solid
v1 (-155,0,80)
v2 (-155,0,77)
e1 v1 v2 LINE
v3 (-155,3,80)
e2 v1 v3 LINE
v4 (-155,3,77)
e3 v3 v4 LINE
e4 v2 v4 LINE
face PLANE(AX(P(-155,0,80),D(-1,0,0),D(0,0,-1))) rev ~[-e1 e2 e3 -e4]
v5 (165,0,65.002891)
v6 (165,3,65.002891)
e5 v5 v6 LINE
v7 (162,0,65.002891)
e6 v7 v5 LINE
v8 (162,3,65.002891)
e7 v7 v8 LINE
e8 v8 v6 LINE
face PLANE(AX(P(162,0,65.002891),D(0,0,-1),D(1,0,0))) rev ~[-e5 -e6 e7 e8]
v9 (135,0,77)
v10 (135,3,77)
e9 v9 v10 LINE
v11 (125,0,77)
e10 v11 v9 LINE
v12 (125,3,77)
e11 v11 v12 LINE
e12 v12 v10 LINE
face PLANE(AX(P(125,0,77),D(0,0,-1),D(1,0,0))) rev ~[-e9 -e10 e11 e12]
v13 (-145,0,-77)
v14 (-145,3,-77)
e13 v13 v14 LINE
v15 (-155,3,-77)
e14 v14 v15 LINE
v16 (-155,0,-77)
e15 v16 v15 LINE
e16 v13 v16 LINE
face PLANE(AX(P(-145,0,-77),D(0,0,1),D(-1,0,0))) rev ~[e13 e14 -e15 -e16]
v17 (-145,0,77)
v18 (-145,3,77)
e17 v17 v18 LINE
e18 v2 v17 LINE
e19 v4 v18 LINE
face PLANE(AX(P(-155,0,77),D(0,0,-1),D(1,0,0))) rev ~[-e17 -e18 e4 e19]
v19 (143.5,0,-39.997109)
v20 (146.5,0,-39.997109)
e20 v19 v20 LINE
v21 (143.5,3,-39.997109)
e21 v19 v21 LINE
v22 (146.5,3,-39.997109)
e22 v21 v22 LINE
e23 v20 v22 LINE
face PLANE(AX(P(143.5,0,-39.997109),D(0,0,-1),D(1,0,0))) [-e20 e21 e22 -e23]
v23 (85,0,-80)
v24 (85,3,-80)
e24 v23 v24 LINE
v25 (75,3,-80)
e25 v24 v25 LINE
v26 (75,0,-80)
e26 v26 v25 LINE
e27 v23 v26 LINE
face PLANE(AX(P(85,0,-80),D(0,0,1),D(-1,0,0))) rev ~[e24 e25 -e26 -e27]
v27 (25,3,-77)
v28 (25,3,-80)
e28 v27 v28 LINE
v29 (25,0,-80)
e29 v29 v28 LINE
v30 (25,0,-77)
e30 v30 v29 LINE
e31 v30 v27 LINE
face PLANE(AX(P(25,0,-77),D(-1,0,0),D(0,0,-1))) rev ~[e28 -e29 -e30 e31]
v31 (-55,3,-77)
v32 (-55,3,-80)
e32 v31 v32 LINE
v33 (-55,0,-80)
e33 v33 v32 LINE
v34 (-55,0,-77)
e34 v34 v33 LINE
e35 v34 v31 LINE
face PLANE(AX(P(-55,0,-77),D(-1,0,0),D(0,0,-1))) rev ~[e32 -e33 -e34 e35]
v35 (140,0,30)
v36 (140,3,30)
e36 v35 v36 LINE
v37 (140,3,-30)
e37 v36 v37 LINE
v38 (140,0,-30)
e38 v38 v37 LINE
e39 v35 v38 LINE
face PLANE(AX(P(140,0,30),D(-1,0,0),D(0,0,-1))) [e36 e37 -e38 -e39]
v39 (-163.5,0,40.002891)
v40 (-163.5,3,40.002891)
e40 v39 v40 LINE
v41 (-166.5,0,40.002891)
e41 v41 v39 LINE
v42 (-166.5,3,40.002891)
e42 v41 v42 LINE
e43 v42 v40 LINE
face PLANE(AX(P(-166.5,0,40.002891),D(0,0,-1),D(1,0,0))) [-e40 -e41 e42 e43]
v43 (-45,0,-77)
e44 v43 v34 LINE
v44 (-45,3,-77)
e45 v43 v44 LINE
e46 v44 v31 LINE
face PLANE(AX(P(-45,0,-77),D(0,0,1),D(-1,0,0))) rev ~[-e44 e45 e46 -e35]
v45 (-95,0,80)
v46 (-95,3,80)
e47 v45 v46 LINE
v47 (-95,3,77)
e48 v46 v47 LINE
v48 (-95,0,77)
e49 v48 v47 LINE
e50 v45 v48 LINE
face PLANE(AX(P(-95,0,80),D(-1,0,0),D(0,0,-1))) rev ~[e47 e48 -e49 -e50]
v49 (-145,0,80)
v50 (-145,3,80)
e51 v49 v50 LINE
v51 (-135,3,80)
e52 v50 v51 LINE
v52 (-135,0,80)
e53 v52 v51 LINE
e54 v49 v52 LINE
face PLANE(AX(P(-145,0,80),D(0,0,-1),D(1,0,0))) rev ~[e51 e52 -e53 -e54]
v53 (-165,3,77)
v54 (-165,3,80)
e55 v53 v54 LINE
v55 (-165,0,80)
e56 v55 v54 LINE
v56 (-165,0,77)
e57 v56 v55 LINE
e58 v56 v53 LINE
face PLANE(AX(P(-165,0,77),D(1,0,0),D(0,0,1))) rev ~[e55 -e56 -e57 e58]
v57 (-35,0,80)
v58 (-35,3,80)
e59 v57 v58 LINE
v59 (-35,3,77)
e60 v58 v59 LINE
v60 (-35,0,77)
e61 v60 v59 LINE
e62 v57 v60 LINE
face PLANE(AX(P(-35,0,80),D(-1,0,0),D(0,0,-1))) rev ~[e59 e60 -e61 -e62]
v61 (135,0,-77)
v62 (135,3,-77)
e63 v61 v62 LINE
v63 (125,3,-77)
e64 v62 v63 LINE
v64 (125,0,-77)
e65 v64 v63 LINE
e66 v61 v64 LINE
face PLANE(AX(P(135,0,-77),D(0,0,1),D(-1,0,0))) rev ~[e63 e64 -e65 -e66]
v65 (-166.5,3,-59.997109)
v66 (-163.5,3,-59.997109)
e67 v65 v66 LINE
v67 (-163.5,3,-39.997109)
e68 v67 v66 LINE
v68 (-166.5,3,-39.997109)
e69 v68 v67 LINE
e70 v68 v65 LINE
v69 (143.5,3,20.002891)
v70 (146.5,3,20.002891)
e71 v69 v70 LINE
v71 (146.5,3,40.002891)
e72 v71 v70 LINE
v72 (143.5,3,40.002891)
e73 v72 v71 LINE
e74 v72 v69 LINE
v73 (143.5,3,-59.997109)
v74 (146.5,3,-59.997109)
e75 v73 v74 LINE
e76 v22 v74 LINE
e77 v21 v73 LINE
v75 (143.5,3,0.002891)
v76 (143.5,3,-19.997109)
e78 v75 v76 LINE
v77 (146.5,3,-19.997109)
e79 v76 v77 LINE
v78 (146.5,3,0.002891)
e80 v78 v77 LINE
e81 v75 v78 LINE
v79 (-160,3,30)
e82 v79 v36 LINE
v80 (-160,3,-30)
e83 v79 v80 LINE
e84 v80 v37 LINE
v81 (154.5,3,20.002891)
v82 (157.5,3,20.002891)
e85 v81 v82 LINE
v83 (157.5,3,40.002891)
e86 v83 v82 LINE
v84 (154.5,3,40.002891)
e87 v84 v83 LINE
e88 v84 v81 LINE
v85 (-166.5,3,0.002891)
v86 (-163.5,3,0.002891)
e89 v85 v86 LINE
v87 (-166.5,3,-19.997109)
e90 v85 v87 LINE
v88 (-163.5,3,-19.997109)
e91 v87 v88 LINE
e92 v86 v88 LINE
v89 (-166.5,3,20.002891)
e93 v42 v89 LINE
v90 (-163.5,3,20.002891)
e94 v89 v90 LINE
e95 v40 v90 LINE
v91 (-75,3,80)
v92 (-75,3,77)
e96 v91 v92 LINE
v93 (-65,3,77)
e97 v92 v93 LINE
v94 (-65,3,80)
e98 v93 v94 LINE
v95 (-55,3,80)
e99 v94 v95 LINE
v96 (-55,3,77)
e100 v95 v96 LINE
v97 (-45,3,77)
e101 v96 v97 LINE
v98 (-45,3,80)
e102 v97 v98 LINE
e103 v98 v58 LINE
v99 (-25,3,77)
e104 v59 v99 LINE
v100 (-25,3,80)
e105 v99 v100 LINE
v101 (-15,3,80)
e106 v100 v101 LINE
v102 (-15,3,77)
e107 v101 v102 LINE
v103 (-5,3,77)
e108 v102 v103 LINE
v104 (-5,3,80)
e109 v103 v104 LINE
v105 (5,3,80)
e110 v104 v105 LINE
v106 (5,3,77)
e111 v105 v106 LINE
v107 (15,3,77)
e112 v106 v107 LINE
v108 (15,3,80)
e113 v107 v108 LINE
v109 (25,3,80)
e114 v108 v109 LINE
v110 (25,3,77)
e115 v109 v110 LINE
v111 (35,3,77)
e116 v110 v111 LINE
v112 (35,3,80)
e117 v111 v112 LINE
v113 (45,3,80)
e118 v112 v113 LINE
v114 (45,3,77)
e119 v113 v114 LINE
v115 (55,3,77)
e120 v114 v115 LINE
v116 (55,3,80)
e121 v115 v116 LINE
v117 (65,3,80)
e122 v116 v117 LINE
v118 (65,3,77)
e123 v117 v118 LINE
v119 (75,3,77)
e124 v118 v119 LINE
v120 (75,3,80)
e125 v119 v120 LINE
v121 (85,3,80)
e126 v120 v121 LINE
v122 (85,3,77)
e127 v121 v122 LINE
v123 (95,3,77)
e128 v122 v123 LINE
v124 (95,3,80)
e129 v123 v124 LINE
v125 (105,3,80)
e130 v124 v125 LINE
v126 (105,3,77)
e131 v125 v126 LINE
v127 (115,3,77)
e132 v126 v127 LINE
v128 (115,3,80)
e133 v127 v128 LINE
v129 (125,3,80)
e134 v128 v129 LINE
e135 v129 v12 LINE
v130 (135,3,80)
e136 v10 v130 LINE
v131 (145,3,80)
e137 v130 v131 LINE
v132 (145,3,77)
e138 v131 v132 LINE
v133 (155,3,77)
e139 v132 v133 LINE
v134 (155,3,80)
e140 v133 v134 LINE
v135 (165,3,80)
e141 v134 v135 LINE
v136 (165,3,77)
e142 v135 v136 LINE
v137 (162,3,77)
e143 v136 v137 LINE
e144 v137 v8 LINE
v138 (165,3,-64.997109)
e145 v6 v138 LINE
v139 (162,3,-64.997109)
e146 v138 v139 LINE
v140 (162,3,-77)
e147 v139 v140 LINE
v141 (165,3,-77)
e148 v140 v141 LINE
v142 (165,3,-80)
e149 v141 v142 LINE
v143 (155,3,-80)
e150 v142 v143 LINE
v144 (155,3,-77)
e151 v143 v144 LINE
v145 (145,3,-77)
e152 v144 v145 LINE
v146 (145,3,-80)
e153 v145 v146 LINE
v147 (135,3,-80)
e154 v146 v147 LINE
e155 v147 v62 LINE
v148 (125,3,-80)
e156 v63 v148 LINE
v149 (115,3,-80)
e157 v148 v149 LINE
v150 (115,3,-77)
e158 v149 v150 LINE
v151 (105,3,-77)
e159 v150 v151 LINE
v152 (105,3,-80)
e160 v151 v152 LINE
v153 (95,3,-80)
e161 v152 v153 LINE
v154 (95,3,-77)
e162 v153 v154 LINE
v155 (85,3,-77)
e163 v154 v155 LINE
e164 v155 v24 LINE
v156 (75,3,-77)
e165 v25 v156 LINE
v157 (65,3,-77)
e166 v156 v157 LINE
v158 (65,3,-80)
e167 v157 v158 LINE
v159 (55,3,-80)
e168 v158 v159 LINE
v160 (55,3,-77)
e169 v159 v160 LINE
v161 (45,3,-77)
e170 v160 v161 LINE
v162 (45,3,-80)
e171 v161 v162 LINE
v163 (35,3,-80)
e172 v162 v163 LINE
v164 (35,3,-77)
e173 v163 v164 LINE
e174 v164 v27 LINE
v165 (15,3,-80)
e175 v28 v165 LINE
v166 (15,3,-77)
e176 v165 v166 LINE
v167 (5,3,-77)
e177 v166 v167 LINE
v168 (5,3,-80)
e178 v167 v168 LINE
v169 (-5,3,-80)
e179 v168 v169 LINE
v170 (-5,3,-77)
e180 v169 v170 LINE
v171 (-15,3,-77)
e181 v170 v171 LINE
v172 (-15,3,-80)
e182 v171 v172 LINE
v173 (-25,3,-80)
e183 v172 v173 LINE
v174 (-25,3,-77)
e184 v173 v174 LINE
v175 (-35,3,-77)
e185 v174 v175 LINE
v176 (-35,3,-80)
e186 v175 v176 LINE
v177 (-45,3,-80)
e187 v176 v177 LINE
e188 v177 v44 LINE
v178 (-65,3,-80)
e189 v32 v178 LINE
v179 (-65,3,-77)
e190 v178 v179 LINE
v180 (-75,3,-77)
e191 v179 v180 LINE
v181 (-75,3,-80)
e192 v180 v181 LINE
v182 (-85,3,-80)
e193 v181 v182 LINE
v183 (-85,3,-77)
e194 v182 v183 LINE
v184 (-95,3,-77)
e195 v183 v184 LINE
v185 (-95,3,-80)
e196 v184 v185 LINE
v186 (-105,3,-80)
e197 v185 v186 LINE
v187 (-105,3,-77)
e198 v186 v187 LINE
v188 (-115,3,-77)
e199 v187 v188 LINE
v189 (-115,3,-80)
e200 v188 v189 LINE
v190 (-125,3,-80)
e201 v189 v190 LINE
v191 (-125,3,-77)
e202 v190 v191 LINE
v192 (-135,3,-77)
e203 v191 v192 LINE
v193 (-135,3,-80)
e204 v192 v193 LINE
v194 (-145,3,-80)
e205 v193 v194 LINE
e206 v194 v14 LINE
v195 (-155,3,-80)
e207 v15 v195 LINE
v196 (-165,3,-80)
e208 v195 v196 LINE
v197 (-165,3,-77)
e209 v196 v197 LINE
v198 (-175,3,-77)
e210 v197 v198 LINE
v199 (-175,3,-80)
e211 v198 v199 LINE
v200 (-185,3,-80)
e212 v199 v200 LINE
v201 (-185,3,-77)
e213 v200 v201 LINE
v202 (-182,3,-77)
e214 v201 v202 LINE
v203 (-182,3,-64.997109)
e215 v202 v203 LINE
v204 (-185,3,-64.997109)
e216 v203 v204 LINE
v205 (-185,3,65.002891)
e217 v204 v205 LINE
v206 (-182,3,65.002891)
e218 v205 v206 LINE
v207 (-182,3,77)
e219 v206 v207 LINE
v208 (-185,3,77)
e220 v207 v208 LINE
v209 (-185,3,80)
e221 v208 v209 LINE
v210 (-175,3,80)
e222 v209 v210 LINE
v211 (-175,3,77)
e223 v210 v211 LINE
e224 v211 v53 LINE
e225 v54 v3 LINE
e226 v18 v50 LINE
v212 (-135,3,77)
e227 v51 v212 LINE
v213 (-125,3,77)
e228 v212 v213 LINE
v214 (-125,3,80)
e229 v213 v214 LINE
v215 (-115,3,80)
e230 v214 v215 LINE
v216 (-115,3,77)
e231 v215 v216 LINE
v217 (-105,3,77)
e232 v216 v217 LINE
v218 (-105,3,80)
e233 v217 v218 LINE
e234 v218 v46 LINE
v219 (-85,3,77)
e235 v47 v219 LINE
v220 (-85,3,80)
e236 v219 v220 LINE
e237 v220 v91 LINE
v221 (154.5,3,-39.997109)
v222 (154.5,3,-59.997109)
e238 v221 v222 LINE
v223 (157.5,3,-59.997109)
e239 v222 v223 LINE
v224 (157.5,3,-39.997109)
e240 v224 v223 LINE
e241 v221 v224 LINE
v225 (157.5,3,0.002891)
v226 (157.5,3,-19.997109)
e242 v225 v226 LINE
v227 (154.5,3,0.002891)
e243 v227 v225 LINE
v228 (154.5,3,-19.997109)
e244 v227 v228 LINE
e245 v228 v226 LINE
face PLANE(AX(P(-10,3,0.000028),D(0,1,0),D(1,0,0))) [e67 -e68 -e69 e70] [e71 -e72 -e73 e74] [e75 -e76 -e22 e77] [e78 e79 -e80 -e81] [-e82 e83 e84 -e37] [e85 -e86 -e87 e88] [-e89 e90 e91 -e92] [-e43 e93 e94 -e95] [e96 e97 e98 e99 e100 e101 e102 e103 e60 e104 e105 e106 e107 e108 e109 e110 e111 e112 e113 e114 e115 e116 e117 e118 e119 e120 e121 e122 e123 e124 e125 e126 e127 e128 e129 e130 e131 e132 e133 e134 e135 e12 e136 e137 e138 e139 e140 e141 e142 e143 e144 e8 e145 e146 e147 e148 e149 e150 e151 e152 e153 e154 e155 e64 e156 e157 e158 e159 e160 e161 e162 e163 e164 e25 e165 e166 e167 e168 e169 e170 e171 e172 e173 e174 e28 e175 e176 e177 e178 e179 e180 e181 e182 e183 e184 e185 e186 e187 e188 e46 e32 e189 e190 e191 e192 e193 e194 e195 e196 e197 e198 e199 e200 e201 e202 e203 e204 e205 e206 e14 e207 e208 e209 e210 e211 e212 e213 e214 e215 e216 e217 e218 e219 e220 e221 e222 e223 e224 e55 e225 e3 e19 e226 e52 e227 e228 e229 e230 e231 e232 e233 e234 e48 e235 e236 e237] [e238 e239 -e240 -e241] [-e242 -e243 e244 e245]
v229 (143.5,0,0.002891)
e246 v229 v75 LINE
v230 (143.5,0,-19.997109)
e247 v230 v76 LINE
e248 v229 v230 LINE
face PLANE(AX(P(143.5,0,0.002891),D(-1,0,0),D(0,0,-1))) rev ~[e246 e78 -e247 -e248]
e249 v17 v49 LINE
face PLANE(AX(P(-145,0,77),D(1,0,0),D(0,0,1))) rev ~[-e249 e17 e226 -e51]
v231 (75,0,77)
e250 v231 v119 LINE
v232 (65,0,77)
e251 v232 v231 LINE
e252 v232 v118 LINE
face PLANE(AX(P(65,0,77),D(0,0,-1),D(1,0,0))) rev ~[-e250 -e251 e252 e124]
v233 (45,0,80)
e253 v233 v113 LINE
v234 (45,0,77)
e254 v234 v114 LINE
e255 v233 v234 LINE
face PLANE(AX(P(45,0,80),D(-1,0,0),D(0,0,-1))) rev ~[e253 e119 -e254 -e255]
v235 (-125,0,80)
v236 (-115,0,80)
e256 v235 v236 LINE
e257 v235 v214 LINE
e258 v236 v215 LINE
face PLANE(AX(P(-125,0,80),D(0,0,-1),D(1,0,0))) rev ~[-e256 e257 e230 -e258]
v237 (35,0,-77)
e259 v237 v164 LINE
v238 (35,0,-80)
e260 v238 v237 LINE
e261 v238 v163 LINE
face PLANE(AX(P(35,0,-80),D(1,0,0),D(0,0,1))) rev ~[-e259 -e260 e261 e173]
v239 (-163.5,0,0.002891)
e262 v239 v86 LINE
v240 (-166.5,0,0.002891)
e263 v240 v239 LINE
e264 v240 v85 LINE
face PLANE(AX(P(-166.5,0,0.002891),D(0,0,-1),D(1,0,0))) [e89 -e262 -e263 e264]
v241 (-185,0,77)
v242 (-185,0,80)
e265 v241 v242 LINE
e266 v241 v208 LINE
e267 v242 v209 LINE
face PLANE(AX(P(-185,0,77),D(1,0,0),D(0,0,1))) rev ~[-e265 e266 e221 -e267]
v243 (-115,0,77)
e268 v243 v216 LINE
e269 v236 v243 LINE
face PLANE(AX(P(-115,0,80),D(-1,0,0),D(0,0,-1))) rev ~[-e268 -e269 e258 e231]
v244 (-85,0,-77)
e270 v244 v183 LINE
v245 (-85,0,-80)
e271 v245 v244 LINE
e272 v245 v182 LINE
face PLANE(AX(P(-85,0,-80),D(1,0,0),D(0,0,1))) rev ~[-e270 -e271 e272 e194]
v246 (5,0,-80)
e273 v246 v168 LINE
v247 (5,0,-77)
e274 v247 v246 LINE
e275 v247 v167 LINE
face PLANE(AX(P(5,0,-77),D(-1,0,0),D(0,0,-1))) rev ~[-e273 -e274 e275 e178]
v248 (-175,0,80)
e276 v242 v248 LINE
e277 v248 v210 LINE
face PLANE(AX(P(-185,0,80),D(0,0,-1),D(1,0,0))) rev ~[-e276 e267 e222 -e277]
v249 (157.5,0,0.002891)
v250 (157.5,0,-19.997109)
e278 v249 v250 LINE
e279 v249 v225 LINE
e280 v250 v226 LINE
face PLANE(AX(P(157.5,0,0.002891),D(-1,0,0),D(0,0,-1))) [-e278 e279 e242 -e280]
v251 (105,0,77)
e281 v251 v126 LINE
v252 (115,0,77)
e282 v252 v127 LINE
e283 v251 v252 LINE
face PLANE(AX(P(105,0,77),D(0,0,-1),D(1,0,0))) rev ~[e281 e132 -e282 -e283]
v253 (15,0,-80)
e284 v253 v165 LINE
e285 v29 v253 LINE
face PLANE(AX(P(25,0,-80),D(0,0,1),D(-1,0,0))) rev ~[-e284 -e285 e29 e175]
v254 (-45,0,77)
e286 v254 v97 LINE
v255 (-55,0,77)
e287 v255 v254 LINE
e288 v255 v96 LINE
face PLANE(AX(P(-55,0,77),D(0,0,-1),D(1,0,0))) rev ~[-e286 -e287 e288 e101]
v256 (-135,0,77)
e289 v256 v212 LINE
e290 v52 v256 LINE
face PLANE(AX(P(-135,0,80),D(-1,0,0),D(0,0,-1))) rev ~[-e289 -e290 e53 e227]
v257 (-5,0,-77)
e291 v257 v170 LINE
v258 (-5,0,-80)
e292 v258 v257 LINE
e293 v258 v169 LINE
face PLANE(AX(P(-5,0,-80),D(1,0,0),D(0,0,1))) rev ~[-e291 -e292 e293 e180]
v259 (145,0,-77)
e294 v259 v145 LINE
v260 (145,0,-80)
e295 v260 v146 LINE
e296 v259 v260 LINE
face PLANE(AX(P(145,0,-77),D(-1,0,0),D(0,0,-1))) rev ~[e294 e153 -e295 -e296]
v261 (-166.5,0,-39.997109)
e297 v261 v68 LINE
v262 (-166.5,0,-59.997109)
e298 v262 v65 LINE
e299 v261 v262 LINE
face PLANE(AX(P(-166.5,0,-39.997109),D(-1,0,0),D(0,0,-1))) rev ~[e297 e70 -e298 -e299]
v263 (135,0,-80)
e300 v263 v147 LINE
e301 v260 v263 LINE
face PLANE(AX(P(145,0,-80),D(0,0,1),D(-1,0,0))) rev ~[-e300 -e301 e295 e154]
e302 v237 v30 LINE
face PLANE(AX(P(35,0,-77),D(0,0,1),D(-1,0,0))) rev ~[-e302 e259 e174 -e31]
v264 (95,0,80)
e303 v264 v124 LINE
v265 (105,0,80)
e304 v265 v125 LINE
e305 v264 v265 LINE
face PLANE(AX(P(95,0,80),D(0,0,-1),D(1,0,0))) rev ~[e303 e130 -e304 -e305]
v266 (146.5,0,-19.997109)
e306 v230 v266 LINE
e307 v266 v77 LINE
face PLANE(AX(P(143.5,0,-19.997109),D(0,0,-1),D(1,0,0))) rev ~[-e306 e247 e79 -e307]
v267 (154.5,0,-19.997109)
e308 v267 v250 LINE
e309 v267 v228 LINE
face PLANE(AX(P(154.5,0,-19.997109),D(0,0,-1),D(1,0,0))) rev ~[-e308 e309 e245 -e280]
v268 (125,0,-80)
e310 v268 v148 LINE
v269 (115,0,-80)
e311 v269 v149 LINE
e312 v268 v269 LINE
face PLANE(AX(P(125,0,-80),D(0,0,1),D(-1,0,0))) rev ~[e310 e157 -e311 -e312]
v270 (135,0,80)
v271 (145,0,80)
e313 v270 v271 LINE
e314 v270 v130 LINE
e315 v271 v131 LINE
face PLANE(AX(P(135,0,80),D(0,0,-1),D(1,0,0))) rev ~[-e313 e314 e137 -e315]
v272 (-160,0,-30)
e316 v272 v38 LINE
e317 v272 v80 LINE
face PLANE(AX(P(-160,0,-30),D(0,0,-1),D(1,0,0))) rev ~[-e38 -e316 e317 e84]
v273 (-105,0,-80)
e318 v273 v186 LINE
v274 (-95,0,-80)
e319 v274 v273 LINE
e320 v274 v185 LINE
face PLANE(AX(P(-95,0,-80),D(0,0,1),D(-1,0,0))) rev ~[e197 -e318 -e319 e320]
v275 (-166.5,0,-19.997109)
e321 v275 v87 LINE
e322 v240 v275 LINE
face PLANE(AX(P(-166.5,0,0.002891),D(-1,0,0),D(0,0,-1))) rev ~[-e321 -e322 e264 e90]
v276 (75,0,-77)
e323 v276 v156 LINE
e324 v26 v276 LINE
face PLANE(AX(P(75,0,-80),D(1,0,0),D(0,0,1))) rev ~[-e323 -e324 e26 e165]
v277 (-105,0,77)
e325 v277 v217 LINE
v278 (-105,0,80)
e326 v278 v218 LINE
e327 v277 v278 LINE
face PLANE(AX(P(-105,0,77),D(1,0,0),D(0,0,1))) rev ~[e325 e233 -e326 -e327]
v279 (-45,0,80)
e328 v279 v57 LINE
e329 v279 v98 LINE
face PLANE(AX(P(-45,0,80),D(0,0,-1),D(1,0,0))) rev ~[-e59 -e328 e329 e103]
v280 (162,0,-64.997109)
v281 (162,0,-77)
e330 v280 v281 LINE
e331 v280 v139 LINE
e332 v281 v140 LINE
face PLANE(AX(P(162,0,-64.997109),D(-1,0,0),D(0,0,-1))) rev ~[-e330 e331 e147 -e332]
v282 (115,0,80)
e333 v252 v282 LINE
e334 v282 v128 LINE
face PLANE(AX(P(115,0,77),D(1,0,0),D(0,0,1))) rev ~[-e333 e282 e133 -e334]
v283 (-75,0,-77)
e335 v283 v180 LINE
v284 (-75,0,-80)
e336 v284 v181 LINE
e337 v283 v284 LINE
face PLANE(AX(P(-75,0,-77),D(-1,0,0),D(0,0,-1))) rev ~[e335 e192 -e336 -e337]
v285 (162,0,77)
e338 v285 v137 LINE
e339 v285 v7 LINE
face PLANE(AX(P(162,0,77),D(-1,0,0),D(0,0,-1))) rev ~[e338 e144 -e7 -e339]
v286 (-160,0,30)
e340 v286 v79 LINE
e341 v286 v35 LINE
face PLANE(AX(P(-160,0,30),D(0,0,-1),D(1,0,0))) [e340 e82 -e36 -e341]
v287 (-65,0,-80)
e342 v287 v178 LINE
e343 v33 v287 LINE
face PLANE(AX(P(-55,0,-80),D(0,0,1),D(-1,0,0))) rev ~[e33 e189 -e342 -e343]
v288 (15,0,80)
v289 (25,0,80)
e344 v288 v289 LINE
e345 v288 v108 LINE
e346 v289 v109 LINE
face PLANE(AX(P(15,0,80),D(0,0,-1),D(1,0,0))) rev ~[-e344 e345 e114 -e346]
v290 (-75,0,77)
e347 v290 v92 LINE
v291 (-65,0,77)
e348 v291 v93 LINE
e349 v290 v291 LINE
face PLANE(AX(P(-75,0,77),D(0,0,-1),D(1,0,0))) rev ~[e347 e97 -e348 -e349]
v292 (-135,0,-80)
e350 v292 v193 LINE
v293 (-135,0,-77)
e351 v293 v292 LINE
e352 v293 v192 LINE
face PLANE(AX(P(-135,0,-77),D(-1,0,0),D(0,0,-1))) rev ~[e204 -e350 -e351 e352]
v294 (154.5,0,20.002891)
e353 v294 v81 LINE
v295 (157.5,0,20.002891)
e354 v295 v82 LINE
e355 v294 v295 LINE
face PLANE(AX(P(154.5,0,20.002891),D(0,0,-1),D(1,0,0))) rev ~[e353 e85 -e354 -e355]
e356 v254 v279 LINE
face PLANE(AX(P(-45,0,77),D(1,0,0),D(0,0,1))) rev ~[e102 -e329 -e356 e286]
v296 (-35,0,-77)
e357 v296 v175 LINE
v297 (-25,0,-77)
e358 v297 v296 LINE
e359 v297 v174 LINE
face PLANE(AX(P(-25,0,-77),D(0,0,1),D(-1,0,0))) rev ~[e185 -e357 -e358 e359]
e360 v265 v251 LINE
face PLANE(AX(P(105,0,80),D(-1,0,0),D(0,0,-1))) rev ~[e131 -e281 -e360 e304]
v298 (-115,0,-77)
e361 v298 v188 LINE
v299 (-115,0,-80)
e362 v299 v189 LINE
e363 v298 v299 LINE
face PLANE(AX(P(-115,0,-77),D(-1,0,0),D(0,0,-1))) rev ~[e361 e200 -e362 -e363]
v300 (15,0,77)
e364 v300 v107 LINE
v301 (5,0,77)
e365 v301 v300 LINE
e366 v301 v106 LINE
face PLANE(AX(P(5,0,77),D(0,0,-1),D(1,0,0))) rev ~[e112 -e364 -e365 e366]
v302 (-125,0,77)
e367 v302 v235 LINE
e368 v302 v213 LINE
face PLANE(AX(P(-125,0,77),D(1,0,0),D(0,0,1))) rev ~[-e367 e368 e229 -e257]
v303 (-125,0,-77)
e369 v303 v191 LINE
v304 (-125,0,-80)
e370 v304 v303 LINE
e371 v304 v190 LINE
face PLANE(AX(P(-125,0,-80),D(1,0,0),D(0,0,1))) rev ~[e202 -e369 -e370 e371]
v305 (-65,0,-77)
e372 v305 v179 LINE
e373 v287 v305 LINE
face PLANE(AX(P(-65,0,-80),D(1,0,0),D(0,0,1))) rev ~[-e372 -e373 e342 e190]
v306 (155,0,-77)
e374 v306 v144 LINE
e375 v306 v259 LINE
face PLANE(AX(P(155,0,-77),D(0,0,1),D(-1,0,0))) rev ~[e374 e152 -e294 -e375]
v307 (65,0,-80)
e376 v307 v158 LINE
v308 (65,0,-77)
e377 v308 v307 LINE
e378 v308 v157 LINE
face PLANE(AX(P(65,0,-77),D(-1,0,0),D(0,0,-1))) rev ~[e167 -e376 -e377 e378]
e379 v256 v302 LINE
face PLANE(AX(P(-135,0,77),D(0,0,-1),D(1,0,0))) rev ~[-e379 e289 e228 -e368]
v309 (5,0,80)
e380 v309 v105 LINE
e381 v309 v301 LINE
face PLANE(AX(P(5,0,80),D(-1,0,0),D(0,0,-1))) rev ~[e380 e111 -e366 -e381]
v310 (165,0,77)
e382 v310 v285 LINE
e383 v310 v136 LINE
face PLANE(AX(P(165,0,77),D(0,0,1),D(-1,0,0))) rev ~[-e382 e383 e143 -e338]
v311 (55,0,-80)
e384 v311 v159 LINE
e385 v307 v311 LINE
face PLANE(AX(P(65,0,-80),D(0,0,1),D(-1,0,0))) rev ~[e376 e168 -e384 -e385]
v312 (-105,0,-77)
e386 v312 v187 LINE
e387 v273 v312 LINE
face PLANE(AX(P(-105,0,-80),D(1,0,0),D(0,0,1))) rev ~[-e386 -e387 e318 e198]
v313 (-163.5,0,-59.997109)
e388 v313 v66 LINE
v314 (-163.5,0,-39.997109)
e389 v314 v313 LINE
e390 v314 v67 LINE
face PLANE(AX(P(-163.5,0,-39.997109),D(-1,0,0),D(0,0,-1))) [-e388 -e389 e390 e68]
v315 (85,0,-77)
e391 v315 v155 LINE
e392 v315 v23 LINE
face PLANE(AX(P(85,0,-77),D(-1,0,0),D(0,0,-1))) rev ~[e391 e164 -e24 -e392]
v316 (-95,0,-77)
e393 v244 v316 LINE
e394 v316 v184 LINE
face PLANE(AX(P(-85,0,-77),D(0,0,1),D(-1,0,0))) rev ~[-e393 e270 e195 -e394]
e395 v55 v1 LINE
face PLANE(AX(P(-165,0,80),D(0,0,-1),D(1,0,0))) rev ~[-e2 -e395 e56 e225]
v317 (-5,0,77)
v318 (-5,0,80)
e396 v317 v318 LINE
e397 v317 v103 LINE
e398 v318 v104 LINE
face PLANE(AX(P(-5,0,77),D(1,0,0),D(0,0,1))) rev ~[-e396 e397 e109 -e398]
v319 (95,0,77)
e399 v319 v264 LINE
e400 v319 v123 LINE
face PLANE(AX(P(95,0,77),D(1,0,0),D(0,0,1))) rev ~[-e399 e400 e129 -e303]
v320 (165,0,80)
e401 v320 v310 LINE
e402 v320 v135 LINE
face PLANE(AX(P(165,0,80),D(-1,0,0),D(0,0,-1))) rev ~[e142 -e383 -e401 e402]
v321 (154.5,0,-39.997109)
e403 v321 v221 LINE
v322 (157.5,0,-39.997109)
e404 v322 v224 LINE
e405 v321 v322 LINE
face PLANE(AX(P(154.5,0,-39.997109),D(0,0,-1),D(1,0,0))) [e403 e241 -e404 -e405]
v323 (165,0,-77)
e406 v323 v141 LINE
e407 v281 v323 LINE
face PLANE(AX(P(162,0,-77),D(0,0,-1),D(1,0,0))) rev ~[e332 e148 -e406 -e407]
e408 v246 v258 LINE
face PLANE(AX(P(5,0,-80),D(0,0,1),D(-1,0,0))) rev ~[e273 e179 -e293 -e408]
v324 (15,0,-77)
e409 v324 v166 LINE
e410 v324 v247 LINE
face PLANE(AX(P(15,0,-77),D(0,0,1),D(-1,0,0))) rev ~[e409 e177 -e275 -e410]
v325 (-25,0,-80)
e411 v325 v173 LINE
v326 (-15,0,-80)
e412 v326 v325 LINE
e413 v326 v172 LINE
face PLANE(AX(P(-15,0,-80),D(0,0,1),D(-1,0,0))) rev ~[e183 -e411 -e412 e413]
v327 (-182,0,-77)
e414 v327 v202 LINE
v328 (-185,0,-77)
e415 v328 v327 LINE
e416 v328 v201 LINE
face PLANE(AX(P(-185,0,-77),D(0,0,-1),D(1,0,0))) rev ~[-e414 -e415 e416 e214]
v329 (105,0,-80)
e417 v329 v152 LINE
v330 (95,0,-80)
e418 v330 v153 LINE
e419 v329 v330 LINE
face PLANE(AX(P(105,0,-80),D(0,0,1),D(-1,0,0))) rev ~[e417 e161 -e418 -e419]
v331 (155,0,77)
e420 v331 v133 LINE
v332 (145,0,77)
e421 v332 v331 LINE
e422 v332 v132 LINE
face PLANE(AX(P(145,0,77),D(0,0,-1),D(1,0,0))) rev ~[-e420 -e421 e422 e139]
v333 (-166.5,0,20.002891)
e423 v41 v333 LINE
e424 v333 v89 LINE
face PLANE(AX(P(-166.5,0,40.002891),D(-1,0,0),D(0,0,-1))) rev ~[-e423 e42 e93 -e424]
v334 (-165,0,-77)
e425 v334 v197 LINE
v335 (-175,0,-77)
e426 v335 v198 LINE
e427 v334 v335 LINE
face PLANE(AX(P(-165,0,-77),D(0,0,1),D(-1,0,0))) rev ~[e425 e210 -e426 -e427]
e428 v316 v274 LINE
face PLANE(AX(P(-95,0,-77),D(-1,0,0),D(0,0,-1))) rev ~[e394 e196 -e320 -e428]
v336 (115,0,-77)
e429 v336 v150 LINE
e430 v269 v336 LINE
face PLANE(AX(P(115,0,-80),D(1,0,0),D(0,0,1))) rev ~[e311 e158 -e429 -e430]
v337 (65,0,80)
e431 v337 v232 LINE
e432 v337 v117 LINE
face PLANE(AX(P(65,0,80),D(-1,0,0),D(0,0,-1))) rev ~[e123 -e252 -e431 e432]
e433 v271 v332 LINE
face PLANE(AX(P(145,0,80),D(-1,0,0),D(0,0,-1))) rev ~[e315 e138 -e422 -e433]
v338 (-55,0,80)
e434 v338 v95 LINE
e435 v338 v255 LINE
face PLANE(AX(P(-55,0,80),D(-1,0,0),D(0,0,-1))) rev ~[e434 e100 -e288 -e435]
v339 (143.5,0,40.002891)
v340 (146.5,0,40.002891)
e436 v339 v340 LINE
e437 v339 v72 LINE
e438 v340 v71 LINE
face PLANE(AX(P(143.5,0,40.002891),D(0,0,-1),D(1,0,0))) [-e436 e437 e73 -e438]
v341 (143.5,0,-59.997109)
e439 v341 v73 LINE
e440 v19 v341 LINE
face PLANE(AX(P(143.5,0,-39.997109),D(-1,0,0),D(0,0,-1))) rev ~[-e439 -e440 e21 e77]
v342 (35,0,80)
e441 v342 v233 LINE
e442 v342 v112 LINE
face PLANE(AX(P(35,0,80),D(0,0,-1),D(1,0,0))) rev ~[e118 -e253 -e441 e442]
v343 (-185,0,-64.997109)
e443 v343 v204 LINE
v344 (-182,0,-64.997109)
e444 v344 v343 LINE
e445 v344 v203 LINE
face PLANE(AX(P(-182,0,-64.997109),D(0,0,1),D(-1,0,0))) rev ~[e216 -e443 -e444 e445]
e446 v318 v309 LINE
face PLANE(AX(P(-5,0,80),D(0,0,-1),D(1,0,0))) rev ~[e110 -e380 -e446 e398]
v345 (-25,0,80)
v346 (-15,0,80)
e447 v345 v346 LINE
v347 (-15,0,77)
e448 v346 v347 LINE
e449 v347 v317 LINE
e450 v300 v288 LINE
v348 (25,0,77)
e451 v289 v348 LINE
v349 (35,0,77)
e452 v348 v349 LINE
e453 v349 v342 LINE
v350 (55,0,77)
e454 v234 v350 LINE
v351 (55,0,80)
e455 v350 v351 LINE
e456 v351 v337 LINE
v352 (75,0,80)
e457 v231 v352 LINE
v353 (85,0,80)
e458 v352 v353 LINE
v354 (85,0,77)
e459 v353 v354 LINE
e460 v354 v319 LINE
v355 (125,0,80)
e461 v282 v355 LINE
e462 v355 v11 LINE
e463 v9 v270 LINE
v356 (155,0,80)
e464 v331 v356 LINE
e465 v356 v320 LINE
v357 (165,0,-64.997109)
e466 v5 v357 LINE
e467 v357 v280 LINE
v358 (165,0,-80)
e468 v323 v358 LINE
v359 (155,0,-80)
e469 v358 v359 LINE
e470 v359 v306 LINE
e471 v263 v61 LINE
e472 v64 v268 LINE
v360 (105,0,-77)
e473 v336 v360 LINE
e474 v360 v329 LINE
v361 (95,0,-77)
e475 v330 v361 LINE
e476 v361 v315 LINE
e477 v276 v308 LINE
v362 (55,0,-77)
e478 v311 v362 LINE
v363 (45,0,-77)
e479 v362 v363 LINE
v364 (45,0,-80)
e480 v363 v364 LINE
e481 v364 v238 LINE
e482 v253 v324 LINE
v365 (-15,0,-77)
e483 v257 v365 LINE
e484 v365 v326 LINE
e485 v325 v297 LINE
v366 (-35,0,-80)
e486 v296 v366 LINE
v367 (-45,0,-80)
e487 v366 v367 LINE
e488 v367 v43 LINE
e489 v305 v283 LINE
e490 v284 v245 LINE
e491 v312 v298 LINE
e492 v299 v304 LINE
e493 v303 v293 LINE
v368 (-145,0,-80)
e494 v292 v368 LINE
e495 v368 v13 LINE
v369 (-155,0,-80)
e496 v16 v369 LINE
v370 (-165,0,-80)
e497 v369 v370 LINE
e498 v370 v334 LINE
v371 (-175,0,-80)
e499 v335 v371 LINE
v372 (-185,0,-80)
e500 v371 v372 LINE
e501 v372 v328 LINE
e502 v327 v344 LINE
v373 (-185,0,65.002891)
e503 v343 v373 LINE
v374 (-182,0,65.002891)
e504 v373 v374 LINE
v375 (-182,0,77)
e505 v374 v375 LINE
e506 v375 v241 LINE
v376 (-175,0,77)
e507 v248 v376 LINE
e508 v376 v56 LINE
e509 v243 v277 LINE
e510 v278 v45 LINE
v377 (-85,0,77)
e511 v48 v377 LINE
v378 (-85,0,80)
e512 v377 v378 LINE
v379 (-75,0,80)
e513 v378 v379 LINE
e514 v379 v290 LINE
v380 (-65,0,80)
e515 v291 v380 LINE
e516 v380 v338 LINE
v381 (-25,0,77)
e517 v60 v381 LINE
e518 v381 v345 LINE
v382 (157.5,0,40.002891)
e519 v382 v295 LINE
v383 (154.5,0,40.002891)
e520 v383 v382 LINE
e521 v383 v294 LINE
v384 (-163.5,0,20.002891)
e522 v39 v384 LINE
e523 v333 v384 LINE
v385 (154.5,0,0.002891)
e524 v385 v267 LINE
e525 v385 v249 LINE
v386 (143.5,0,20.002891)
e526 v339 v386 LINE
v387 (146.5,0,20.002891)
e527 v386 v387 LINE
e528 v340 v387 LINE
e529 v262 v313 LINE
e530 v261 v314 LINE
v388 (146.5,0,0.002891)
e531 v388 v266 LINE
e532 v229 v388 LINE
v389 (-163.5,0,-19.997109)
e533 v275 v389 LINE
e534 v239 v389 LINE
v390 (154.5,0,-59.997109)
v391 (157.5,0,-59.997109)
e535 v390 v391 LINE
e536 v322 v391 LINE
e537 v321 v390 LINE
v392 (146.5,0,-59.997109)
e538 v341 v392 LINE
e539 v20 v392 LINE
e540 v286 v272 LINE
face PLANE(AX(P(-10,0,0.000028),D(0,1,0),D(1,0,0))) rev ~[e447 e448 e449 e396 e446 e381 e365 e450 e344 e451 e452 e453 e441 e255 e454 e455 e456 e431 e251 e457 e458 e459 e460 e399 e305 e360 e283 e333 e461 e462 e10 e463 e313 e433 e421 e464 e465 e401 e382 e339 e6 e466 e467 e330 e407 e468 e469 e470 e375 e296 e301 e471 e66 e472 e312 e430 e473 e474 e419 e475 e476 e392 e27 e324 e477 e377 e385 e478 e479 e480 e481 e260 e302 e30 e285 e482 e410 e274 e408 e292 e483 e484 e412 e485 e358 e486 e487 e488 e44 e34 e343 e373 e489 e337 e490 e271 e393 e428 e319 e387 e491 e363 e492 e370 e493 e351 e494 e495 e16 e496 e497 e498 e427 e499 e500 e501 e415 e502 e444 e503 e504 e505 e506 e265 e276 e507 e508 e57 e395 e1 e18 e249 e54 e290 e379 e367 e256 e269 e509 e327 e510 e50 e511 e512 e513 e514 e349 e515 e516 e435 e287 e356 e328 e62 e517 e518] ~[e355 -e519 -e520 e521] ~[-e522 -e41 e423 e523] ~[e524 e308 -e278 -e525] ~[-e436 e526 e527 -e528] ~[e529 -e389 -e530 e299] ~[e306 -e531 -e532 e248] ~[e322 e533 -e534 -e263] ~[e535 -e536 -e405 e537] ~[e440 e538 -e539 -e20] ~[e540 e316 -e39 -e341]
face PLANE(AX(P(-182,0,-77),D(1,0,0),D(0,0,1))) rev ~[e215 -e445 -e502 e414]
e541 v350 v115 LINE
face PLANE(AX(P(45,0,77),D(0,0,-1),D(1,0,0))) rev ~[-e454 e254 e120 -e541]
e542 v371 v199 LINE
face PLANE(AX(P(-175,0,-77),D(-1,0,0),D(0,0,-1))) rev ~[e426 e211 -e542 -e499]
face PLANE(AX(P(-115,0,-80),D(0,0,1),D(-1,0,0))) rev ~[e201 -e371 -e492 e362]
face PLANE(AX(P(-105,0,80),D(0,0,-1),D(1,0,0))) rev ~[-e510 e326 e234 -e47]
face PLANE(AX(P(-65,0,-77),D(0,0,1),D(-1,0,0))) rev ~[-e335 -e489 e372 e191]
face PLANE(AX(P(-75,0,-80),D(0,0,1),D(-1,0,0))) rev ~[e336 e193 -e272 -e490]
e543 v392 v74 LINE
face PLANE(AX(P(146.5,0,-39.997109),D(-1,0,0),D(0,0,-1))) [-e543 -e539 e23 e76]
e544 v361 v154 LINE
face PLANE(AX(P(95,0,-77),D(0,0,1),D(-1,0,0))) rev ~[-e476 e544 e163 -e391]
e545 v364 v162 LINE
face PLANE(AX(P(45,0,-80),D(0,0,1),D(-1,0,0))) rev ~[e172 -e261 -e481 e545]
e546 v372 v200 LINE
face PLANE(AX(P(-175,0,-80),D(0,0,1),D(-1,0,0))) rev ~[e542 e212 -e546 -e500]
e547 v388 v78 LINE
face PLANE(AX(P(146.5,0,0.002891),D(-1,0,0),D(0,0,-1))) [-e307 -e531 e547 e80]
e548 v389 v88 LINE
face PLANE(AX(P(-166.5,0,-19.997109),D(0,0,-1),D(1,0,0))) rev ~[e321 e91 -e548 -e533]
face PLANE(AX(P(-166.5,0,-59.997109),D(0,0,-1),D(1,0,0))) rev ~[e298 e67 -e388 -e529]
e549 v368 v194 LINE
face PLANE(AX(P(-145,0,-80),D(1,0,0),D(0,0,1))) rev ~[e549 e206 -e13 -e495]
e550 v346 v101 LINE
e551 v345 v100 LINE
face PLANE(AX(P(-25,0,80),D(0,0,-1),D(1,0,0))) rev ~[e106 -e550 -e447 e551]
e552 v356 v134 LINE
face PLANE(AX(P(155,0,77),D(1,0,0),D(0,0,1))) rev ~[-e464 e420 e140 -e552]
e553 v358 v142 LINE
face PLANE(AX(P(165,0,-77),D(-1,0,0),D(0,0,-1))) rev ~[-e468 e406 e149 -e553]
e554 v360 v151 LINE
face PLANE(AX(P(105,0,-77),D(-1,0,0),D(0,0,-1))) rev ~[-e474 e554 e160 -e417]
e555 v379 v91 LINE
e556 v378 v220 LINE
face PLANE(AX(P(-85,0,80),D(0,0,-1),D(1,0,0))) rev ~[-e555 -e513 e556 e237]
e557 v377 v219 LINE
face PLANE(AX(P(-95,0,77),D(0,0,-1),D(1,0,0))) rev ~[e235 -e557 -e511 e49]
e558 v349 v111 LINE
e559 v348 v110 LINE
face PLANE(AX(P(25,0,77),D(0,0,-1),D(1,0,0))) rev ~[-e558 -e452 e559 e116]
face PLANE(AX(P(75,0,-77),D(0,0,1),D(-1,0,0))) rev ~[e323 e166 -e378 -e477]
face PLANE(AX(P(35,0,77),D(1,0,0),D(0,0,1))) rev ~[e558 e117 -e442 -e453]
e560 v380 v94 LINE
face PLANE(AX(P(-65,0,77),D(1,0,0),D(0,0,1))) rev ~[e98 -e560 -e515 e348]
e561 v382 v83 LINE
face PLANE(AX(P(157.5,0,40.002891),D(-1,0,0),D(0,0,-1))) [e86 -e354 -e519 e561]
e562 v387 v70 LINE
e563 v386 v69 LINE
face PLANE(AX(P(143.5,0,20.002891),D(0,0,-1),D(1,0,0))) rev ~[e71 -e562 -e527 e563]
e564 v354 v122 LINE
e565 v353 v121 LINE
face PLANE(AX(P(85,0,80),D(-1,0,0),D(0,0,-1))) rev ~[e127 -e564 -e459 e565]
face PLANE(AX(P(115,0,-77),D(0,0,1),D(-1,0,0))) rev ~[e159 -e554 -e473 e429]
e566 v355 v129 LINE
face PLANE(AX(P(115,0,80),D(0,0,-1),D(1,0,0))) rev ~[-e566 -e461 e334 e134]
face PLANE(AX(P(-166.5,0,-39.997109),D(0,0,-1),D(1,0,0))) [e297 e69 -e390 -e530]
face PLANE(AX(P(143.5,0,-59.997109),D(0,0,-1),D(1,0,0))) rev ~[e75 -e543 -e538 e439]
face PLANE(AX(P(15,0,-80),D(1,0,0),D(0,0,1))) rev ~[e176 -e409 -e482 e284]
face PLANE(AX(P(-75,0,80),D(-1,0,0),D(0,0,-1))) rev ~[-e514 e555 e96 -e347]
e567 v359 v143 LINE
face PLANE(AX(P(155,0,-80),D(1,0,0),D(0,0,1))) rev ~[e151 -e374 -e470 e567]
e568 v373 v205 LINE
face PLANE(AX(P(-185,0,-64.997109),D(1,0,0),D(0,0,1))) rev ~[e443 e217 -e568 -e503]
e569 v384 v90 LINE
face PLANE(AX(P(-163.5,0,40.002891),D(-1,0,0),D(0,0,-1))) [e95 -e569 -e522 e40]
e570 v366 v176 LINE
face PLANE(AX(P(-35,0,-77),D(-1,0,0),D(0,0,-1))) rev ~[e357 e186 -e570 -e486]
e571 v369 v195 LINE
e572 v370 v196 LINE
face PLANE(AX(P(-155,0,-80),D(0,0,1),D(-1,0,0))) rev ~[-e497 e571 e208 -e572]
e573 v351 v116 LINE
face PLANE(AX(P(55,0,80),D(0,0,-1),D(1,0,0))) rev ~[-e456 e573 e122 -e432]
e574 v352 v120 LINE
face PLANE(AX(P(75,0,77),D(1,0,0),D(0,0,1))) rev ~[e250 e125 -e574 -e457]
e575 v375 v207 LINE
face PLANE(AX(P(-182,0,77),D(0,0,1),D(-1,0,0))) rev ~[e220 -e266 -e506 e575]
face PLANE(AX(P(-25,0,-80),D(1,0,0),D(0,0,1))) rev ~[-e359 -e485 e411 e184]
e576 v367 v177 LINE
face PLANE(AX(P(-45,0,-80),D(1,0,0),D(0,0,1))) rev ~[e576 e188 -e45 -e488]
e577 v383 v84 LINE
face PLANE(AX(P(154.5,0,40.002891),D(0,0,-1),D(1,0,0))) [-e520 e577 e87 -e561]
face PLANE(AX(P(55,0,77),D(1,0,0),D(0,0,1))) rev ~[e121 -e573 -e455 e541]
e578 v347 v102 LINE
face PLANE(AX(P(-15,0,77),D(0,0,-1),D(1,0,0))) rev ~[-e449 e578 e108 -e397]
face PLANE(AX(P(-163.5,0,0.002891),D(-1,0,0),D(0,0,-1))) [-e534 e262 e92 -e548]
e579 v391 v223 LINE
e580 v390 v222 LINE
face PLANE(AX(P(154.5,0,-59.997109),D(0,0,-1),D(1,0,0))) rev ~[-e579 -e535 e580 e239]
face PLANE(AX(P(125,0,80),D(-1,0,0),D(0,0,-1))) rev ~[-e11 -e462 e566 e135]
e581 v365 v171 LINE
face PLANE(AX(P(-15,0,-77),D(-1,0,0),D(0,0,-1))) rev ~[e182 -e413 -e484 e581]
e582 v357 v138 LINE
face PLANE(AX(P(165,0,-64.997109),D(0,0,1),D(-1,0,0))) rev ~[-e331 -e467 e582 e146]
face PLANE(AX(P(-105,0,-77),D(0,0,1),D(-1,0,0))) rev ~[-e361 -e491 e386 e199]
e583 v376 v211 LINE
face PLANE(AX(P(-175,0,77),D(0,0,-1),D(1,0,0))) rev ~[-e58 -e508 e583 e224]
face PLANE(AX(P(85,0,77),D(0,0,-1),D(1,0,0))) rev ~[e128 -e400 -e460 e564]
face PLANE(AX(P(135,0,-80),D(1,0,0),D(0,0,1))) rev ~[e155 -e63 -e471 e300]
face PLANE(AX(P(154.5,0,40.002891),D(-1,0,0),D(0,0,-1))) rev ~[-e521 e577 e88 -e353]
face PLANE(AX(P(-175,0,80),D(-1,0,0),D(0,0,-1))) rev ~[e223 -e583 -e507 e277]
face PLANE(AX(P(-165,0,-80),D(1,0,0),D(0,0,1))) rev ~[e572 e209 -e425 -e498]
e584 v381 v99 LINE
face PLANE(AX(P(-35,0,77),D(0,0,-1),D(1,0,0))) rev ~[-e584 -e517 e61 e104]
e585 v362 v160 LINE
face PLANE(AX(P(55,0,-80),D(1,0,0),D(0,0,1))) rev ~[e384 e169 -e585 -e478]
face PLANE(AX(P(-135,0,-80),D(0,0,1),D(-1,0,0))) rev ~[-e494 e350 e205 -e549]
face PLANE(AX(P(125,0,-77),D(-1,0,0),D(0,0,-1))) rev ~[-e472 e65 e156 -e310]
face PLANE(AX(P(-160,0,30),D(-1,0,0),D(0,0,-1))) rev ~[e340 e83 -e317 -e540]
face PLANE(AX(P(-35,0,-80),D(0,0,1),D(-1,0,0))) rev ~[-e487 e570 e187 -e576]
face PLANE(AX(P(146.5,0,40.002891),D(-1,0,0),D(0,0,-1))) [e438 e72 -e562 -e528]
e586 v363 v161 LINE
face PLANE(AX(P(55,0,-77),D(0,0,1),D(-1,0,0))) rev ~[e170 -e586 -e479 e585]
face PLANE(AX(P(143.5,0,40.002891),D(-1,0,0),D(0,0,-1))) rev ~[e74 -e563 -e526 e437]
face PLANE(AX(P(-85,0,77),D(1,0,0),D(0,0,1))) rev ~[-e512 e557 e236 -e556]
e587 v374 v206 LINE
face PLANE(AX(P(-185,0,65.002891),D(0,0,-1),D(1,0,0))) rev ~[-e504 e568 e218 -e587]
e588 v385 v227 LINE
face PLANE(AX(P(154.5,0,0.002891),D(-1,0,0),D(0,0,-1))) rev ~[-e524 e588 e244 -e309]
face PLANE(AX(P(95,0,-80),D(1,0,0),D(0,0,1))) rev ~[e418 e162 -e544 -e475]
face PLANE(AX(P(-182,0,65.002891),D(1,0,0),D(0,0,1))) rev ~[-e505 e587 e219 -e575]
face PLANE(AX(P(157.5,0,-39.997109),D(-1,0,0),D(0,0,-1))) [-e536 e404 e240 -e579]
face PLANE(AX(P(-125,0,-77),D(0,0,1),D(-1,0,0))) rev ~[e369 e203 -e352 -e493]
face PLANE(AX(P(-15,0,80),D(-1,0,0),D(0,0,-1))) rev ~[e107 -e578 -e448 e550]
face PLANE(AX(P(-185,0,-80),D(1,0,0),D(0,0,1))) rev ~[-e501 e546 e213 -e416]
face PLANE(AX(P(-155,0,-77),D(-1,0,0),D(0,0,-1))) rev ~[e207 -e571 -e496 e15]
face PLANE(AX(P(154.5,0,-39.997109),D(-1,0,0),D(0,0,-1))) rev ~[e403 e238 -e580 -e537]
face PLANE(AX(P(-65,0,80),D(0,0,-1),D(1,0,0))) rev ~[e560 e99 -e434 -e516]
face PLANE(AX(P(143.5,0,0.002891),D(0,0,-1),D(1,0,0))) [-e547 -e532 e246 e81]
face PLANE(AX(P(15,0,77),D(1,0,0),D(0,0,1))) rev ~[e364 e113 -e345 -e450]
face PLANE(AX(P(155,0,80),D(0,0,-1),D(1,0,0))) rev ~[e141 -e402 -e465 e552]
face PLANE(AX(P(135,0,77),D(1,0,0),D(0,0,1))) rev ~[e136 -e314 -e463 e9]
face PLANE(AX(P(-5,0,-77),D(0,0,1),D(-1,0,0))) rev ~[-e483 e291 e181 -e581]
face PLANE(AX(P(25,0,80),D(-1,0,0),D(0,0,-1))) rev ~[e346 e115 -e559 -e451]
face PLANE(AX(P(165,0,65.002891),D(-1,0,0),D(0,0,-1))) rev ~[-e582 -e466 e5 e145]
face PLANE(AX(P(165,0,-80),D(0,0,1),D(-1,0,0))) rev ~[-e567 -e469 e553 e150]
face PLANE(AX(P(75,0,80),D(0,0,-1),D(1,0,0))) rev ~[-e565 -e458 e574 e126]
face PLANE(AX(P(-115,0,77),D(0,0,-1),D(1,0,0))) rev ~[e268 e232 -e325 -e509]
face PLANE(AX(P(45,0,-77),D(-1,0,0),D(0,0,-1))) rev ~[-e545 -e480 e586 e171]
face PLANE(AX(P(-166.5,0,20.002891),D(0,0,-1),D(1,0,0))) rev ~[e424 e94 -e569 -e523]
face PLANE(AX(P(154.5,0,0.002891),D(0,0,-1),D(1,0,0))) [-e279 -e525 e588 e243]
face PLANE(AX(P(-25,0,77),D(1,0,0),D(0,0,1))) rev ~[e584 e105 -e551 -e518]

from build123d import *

# Parameters (mm, degrees)
CROQUIS1_W              = 3
CROQUIS1_H              = 20
CROQUIS1_W_2            = 300
CROQUIS1_H_2            = 60
SALIENTE_EXTRUIR1_DEPTH = 3


with BuildPart() as part:
    # Croquis1 → Saliente-Extruir1 (new body)
    with BuildSketch(Plane(origin=(0, 0, 0), x_dir=(1, 0, 0), z_dir=(0, 1, 0))):
        Polygon((155, -80), (162, -80), (165, -80), (165, -77), (162, -77), (162, -65.002891293), (165, -65.002891293), (165, 64.997108707), (162, 64.997108707), (162, 77), (165, 77), (165, 80), (162, 80), (155, 80), (155, 77), (145, 77), (145, 80), (135, 80), (135, 77), (125, 77), (125, 80), (115, 80), (115, 77), (105, 77), (105, 80), (95, 80), (95, 77), (85, 77), (85, 80), (75, 80), (75, 77), (65, 77), (65, 80), (55, 80), (55, 77), (45, 77), (45, 80), (35, 80), (35, 77), (25, 77), (25, 80), (15, 80), (15, 77), (5, 77), (5, 80), (-5, 80), (-5, 77), (-15, 77), (-15, 80), (-25, 80), (-25, 77), (-35, 77), (-35, 80), (-45, 80), (-45, 77), (-55, 77), (-55, 80), (-65, 80), (-65, 77), (-75, 77), (-75, 80), (-85, 80), (-85, 77), (-95, 77), (-95, 80), (-105, 80), (-105, 77), (-115, 77), (-115, 80), (-125, 80), (-125, 77), (-135, 77), (-135, 80), (-145, 80), (-145, 77), (-155, 77), (-155, 80), (-165, 80), (-165, 77), (-175, 77), (-175, 80), (-182, 80), (-185, 80), (-185, 77), (-182, 77), (-182, 64.997108707), (-185, 64.997108707), (-185, -65.002891293), (-182, -65.002891293), (-182, -77), (-185, -77), (-185, -80), (-182, -80), (-175, -80), (-175, -77), (-165, -77), (-165, -80), (-155, -80), (-155, -77), (-145, -77), (-145, -80), (-135, -80), (-135, -77), (-125, -77), (-125, -80), (-115, -80), (-115, -77), (-105, -77), (-105, -80), (-95, -80), (-95, -77), (-85, -77), (-85, -80), (-75, -80), (-75, -77), (-65, -77), (-65, -80), (-55, -80), (-55, -77), (-45, -77), (-45, -80), (-35, -80), (-35, -77), (-25, -77), (-25, -80), (-15, -80), (-15, -77), (-5, -77), (-5, -80), (5, -80), (5, -77), (15, -77), (15, -80), (25, -80), (25, -77), (35, -77), (35, -80), (45, -80), (45, -77), (55, -77), (55, -80), (65, -80), (65, -77), (75, -77), (75, -80), (85, -80), (85, -77), (95, -77), (95, -80), (105, -80), (105, -77), (115, -77), (115, -80), (125, -80), (125, -77), (135, -77), (135, -80), (145, -80), (145, -77), (155, -77), align=None)
        with Locations((-165, -30.002891293)):
            Rectangle(CROQUIS1_W, CROQUIS1_H, mode=Mode.SUBTRACT)
        with Locations((-10, 0)):
            Rectangle(CROQUIS1_W_2, CROQUIS1_H_2, mode=Mode.SUBTRACT)
        with Locations((156, -30.002891293)):
            Rectangle(CROQUIS1_W, CROQUIS1_H, mode=Mode.SUBTRACT)
        with Locations((-165, 49.997108707)):
            Rectangle(CROQUIS1_W, CROQUIS1_H, mode=Mode.SUBTRACT)
        with Locations((-165, 9.997108707)):
            Rectangle(CROQUIS1_W, CROQUIS1_H, mode=Mode.SUBTRACT)
        with Locations((145, 9.997108707)):
            Rectangle(CROQUIS1_W, CROQUIS1_H, mode=Mode.SUBTRACT)
        with Locations((145, -30.002891293)):
            Rectangle(CROQUIS1_W, CROQUIS1_H, mode=Mode.SUBTRACT)
        with Locations((145, 49.997108707)):
            Rectangle(CROQUIS1_W, CROQUIS1_H, mode=Mode.SUBTRACT)
        with Locations((156, 49.997108707)):
            Rectangle(CROQUIS1_W, CROQUIS1_H, mode=Mode.SUBTRACT)
        with Locations((156, 9.997108707)):
            Rectangle(CROQUIS1_W, CROQUIS1_H, mode=Mode.SUBTRACT)
    extrude(amount=SALIENTE_EXTRUIR1_DEPTH)


solid = part.part
